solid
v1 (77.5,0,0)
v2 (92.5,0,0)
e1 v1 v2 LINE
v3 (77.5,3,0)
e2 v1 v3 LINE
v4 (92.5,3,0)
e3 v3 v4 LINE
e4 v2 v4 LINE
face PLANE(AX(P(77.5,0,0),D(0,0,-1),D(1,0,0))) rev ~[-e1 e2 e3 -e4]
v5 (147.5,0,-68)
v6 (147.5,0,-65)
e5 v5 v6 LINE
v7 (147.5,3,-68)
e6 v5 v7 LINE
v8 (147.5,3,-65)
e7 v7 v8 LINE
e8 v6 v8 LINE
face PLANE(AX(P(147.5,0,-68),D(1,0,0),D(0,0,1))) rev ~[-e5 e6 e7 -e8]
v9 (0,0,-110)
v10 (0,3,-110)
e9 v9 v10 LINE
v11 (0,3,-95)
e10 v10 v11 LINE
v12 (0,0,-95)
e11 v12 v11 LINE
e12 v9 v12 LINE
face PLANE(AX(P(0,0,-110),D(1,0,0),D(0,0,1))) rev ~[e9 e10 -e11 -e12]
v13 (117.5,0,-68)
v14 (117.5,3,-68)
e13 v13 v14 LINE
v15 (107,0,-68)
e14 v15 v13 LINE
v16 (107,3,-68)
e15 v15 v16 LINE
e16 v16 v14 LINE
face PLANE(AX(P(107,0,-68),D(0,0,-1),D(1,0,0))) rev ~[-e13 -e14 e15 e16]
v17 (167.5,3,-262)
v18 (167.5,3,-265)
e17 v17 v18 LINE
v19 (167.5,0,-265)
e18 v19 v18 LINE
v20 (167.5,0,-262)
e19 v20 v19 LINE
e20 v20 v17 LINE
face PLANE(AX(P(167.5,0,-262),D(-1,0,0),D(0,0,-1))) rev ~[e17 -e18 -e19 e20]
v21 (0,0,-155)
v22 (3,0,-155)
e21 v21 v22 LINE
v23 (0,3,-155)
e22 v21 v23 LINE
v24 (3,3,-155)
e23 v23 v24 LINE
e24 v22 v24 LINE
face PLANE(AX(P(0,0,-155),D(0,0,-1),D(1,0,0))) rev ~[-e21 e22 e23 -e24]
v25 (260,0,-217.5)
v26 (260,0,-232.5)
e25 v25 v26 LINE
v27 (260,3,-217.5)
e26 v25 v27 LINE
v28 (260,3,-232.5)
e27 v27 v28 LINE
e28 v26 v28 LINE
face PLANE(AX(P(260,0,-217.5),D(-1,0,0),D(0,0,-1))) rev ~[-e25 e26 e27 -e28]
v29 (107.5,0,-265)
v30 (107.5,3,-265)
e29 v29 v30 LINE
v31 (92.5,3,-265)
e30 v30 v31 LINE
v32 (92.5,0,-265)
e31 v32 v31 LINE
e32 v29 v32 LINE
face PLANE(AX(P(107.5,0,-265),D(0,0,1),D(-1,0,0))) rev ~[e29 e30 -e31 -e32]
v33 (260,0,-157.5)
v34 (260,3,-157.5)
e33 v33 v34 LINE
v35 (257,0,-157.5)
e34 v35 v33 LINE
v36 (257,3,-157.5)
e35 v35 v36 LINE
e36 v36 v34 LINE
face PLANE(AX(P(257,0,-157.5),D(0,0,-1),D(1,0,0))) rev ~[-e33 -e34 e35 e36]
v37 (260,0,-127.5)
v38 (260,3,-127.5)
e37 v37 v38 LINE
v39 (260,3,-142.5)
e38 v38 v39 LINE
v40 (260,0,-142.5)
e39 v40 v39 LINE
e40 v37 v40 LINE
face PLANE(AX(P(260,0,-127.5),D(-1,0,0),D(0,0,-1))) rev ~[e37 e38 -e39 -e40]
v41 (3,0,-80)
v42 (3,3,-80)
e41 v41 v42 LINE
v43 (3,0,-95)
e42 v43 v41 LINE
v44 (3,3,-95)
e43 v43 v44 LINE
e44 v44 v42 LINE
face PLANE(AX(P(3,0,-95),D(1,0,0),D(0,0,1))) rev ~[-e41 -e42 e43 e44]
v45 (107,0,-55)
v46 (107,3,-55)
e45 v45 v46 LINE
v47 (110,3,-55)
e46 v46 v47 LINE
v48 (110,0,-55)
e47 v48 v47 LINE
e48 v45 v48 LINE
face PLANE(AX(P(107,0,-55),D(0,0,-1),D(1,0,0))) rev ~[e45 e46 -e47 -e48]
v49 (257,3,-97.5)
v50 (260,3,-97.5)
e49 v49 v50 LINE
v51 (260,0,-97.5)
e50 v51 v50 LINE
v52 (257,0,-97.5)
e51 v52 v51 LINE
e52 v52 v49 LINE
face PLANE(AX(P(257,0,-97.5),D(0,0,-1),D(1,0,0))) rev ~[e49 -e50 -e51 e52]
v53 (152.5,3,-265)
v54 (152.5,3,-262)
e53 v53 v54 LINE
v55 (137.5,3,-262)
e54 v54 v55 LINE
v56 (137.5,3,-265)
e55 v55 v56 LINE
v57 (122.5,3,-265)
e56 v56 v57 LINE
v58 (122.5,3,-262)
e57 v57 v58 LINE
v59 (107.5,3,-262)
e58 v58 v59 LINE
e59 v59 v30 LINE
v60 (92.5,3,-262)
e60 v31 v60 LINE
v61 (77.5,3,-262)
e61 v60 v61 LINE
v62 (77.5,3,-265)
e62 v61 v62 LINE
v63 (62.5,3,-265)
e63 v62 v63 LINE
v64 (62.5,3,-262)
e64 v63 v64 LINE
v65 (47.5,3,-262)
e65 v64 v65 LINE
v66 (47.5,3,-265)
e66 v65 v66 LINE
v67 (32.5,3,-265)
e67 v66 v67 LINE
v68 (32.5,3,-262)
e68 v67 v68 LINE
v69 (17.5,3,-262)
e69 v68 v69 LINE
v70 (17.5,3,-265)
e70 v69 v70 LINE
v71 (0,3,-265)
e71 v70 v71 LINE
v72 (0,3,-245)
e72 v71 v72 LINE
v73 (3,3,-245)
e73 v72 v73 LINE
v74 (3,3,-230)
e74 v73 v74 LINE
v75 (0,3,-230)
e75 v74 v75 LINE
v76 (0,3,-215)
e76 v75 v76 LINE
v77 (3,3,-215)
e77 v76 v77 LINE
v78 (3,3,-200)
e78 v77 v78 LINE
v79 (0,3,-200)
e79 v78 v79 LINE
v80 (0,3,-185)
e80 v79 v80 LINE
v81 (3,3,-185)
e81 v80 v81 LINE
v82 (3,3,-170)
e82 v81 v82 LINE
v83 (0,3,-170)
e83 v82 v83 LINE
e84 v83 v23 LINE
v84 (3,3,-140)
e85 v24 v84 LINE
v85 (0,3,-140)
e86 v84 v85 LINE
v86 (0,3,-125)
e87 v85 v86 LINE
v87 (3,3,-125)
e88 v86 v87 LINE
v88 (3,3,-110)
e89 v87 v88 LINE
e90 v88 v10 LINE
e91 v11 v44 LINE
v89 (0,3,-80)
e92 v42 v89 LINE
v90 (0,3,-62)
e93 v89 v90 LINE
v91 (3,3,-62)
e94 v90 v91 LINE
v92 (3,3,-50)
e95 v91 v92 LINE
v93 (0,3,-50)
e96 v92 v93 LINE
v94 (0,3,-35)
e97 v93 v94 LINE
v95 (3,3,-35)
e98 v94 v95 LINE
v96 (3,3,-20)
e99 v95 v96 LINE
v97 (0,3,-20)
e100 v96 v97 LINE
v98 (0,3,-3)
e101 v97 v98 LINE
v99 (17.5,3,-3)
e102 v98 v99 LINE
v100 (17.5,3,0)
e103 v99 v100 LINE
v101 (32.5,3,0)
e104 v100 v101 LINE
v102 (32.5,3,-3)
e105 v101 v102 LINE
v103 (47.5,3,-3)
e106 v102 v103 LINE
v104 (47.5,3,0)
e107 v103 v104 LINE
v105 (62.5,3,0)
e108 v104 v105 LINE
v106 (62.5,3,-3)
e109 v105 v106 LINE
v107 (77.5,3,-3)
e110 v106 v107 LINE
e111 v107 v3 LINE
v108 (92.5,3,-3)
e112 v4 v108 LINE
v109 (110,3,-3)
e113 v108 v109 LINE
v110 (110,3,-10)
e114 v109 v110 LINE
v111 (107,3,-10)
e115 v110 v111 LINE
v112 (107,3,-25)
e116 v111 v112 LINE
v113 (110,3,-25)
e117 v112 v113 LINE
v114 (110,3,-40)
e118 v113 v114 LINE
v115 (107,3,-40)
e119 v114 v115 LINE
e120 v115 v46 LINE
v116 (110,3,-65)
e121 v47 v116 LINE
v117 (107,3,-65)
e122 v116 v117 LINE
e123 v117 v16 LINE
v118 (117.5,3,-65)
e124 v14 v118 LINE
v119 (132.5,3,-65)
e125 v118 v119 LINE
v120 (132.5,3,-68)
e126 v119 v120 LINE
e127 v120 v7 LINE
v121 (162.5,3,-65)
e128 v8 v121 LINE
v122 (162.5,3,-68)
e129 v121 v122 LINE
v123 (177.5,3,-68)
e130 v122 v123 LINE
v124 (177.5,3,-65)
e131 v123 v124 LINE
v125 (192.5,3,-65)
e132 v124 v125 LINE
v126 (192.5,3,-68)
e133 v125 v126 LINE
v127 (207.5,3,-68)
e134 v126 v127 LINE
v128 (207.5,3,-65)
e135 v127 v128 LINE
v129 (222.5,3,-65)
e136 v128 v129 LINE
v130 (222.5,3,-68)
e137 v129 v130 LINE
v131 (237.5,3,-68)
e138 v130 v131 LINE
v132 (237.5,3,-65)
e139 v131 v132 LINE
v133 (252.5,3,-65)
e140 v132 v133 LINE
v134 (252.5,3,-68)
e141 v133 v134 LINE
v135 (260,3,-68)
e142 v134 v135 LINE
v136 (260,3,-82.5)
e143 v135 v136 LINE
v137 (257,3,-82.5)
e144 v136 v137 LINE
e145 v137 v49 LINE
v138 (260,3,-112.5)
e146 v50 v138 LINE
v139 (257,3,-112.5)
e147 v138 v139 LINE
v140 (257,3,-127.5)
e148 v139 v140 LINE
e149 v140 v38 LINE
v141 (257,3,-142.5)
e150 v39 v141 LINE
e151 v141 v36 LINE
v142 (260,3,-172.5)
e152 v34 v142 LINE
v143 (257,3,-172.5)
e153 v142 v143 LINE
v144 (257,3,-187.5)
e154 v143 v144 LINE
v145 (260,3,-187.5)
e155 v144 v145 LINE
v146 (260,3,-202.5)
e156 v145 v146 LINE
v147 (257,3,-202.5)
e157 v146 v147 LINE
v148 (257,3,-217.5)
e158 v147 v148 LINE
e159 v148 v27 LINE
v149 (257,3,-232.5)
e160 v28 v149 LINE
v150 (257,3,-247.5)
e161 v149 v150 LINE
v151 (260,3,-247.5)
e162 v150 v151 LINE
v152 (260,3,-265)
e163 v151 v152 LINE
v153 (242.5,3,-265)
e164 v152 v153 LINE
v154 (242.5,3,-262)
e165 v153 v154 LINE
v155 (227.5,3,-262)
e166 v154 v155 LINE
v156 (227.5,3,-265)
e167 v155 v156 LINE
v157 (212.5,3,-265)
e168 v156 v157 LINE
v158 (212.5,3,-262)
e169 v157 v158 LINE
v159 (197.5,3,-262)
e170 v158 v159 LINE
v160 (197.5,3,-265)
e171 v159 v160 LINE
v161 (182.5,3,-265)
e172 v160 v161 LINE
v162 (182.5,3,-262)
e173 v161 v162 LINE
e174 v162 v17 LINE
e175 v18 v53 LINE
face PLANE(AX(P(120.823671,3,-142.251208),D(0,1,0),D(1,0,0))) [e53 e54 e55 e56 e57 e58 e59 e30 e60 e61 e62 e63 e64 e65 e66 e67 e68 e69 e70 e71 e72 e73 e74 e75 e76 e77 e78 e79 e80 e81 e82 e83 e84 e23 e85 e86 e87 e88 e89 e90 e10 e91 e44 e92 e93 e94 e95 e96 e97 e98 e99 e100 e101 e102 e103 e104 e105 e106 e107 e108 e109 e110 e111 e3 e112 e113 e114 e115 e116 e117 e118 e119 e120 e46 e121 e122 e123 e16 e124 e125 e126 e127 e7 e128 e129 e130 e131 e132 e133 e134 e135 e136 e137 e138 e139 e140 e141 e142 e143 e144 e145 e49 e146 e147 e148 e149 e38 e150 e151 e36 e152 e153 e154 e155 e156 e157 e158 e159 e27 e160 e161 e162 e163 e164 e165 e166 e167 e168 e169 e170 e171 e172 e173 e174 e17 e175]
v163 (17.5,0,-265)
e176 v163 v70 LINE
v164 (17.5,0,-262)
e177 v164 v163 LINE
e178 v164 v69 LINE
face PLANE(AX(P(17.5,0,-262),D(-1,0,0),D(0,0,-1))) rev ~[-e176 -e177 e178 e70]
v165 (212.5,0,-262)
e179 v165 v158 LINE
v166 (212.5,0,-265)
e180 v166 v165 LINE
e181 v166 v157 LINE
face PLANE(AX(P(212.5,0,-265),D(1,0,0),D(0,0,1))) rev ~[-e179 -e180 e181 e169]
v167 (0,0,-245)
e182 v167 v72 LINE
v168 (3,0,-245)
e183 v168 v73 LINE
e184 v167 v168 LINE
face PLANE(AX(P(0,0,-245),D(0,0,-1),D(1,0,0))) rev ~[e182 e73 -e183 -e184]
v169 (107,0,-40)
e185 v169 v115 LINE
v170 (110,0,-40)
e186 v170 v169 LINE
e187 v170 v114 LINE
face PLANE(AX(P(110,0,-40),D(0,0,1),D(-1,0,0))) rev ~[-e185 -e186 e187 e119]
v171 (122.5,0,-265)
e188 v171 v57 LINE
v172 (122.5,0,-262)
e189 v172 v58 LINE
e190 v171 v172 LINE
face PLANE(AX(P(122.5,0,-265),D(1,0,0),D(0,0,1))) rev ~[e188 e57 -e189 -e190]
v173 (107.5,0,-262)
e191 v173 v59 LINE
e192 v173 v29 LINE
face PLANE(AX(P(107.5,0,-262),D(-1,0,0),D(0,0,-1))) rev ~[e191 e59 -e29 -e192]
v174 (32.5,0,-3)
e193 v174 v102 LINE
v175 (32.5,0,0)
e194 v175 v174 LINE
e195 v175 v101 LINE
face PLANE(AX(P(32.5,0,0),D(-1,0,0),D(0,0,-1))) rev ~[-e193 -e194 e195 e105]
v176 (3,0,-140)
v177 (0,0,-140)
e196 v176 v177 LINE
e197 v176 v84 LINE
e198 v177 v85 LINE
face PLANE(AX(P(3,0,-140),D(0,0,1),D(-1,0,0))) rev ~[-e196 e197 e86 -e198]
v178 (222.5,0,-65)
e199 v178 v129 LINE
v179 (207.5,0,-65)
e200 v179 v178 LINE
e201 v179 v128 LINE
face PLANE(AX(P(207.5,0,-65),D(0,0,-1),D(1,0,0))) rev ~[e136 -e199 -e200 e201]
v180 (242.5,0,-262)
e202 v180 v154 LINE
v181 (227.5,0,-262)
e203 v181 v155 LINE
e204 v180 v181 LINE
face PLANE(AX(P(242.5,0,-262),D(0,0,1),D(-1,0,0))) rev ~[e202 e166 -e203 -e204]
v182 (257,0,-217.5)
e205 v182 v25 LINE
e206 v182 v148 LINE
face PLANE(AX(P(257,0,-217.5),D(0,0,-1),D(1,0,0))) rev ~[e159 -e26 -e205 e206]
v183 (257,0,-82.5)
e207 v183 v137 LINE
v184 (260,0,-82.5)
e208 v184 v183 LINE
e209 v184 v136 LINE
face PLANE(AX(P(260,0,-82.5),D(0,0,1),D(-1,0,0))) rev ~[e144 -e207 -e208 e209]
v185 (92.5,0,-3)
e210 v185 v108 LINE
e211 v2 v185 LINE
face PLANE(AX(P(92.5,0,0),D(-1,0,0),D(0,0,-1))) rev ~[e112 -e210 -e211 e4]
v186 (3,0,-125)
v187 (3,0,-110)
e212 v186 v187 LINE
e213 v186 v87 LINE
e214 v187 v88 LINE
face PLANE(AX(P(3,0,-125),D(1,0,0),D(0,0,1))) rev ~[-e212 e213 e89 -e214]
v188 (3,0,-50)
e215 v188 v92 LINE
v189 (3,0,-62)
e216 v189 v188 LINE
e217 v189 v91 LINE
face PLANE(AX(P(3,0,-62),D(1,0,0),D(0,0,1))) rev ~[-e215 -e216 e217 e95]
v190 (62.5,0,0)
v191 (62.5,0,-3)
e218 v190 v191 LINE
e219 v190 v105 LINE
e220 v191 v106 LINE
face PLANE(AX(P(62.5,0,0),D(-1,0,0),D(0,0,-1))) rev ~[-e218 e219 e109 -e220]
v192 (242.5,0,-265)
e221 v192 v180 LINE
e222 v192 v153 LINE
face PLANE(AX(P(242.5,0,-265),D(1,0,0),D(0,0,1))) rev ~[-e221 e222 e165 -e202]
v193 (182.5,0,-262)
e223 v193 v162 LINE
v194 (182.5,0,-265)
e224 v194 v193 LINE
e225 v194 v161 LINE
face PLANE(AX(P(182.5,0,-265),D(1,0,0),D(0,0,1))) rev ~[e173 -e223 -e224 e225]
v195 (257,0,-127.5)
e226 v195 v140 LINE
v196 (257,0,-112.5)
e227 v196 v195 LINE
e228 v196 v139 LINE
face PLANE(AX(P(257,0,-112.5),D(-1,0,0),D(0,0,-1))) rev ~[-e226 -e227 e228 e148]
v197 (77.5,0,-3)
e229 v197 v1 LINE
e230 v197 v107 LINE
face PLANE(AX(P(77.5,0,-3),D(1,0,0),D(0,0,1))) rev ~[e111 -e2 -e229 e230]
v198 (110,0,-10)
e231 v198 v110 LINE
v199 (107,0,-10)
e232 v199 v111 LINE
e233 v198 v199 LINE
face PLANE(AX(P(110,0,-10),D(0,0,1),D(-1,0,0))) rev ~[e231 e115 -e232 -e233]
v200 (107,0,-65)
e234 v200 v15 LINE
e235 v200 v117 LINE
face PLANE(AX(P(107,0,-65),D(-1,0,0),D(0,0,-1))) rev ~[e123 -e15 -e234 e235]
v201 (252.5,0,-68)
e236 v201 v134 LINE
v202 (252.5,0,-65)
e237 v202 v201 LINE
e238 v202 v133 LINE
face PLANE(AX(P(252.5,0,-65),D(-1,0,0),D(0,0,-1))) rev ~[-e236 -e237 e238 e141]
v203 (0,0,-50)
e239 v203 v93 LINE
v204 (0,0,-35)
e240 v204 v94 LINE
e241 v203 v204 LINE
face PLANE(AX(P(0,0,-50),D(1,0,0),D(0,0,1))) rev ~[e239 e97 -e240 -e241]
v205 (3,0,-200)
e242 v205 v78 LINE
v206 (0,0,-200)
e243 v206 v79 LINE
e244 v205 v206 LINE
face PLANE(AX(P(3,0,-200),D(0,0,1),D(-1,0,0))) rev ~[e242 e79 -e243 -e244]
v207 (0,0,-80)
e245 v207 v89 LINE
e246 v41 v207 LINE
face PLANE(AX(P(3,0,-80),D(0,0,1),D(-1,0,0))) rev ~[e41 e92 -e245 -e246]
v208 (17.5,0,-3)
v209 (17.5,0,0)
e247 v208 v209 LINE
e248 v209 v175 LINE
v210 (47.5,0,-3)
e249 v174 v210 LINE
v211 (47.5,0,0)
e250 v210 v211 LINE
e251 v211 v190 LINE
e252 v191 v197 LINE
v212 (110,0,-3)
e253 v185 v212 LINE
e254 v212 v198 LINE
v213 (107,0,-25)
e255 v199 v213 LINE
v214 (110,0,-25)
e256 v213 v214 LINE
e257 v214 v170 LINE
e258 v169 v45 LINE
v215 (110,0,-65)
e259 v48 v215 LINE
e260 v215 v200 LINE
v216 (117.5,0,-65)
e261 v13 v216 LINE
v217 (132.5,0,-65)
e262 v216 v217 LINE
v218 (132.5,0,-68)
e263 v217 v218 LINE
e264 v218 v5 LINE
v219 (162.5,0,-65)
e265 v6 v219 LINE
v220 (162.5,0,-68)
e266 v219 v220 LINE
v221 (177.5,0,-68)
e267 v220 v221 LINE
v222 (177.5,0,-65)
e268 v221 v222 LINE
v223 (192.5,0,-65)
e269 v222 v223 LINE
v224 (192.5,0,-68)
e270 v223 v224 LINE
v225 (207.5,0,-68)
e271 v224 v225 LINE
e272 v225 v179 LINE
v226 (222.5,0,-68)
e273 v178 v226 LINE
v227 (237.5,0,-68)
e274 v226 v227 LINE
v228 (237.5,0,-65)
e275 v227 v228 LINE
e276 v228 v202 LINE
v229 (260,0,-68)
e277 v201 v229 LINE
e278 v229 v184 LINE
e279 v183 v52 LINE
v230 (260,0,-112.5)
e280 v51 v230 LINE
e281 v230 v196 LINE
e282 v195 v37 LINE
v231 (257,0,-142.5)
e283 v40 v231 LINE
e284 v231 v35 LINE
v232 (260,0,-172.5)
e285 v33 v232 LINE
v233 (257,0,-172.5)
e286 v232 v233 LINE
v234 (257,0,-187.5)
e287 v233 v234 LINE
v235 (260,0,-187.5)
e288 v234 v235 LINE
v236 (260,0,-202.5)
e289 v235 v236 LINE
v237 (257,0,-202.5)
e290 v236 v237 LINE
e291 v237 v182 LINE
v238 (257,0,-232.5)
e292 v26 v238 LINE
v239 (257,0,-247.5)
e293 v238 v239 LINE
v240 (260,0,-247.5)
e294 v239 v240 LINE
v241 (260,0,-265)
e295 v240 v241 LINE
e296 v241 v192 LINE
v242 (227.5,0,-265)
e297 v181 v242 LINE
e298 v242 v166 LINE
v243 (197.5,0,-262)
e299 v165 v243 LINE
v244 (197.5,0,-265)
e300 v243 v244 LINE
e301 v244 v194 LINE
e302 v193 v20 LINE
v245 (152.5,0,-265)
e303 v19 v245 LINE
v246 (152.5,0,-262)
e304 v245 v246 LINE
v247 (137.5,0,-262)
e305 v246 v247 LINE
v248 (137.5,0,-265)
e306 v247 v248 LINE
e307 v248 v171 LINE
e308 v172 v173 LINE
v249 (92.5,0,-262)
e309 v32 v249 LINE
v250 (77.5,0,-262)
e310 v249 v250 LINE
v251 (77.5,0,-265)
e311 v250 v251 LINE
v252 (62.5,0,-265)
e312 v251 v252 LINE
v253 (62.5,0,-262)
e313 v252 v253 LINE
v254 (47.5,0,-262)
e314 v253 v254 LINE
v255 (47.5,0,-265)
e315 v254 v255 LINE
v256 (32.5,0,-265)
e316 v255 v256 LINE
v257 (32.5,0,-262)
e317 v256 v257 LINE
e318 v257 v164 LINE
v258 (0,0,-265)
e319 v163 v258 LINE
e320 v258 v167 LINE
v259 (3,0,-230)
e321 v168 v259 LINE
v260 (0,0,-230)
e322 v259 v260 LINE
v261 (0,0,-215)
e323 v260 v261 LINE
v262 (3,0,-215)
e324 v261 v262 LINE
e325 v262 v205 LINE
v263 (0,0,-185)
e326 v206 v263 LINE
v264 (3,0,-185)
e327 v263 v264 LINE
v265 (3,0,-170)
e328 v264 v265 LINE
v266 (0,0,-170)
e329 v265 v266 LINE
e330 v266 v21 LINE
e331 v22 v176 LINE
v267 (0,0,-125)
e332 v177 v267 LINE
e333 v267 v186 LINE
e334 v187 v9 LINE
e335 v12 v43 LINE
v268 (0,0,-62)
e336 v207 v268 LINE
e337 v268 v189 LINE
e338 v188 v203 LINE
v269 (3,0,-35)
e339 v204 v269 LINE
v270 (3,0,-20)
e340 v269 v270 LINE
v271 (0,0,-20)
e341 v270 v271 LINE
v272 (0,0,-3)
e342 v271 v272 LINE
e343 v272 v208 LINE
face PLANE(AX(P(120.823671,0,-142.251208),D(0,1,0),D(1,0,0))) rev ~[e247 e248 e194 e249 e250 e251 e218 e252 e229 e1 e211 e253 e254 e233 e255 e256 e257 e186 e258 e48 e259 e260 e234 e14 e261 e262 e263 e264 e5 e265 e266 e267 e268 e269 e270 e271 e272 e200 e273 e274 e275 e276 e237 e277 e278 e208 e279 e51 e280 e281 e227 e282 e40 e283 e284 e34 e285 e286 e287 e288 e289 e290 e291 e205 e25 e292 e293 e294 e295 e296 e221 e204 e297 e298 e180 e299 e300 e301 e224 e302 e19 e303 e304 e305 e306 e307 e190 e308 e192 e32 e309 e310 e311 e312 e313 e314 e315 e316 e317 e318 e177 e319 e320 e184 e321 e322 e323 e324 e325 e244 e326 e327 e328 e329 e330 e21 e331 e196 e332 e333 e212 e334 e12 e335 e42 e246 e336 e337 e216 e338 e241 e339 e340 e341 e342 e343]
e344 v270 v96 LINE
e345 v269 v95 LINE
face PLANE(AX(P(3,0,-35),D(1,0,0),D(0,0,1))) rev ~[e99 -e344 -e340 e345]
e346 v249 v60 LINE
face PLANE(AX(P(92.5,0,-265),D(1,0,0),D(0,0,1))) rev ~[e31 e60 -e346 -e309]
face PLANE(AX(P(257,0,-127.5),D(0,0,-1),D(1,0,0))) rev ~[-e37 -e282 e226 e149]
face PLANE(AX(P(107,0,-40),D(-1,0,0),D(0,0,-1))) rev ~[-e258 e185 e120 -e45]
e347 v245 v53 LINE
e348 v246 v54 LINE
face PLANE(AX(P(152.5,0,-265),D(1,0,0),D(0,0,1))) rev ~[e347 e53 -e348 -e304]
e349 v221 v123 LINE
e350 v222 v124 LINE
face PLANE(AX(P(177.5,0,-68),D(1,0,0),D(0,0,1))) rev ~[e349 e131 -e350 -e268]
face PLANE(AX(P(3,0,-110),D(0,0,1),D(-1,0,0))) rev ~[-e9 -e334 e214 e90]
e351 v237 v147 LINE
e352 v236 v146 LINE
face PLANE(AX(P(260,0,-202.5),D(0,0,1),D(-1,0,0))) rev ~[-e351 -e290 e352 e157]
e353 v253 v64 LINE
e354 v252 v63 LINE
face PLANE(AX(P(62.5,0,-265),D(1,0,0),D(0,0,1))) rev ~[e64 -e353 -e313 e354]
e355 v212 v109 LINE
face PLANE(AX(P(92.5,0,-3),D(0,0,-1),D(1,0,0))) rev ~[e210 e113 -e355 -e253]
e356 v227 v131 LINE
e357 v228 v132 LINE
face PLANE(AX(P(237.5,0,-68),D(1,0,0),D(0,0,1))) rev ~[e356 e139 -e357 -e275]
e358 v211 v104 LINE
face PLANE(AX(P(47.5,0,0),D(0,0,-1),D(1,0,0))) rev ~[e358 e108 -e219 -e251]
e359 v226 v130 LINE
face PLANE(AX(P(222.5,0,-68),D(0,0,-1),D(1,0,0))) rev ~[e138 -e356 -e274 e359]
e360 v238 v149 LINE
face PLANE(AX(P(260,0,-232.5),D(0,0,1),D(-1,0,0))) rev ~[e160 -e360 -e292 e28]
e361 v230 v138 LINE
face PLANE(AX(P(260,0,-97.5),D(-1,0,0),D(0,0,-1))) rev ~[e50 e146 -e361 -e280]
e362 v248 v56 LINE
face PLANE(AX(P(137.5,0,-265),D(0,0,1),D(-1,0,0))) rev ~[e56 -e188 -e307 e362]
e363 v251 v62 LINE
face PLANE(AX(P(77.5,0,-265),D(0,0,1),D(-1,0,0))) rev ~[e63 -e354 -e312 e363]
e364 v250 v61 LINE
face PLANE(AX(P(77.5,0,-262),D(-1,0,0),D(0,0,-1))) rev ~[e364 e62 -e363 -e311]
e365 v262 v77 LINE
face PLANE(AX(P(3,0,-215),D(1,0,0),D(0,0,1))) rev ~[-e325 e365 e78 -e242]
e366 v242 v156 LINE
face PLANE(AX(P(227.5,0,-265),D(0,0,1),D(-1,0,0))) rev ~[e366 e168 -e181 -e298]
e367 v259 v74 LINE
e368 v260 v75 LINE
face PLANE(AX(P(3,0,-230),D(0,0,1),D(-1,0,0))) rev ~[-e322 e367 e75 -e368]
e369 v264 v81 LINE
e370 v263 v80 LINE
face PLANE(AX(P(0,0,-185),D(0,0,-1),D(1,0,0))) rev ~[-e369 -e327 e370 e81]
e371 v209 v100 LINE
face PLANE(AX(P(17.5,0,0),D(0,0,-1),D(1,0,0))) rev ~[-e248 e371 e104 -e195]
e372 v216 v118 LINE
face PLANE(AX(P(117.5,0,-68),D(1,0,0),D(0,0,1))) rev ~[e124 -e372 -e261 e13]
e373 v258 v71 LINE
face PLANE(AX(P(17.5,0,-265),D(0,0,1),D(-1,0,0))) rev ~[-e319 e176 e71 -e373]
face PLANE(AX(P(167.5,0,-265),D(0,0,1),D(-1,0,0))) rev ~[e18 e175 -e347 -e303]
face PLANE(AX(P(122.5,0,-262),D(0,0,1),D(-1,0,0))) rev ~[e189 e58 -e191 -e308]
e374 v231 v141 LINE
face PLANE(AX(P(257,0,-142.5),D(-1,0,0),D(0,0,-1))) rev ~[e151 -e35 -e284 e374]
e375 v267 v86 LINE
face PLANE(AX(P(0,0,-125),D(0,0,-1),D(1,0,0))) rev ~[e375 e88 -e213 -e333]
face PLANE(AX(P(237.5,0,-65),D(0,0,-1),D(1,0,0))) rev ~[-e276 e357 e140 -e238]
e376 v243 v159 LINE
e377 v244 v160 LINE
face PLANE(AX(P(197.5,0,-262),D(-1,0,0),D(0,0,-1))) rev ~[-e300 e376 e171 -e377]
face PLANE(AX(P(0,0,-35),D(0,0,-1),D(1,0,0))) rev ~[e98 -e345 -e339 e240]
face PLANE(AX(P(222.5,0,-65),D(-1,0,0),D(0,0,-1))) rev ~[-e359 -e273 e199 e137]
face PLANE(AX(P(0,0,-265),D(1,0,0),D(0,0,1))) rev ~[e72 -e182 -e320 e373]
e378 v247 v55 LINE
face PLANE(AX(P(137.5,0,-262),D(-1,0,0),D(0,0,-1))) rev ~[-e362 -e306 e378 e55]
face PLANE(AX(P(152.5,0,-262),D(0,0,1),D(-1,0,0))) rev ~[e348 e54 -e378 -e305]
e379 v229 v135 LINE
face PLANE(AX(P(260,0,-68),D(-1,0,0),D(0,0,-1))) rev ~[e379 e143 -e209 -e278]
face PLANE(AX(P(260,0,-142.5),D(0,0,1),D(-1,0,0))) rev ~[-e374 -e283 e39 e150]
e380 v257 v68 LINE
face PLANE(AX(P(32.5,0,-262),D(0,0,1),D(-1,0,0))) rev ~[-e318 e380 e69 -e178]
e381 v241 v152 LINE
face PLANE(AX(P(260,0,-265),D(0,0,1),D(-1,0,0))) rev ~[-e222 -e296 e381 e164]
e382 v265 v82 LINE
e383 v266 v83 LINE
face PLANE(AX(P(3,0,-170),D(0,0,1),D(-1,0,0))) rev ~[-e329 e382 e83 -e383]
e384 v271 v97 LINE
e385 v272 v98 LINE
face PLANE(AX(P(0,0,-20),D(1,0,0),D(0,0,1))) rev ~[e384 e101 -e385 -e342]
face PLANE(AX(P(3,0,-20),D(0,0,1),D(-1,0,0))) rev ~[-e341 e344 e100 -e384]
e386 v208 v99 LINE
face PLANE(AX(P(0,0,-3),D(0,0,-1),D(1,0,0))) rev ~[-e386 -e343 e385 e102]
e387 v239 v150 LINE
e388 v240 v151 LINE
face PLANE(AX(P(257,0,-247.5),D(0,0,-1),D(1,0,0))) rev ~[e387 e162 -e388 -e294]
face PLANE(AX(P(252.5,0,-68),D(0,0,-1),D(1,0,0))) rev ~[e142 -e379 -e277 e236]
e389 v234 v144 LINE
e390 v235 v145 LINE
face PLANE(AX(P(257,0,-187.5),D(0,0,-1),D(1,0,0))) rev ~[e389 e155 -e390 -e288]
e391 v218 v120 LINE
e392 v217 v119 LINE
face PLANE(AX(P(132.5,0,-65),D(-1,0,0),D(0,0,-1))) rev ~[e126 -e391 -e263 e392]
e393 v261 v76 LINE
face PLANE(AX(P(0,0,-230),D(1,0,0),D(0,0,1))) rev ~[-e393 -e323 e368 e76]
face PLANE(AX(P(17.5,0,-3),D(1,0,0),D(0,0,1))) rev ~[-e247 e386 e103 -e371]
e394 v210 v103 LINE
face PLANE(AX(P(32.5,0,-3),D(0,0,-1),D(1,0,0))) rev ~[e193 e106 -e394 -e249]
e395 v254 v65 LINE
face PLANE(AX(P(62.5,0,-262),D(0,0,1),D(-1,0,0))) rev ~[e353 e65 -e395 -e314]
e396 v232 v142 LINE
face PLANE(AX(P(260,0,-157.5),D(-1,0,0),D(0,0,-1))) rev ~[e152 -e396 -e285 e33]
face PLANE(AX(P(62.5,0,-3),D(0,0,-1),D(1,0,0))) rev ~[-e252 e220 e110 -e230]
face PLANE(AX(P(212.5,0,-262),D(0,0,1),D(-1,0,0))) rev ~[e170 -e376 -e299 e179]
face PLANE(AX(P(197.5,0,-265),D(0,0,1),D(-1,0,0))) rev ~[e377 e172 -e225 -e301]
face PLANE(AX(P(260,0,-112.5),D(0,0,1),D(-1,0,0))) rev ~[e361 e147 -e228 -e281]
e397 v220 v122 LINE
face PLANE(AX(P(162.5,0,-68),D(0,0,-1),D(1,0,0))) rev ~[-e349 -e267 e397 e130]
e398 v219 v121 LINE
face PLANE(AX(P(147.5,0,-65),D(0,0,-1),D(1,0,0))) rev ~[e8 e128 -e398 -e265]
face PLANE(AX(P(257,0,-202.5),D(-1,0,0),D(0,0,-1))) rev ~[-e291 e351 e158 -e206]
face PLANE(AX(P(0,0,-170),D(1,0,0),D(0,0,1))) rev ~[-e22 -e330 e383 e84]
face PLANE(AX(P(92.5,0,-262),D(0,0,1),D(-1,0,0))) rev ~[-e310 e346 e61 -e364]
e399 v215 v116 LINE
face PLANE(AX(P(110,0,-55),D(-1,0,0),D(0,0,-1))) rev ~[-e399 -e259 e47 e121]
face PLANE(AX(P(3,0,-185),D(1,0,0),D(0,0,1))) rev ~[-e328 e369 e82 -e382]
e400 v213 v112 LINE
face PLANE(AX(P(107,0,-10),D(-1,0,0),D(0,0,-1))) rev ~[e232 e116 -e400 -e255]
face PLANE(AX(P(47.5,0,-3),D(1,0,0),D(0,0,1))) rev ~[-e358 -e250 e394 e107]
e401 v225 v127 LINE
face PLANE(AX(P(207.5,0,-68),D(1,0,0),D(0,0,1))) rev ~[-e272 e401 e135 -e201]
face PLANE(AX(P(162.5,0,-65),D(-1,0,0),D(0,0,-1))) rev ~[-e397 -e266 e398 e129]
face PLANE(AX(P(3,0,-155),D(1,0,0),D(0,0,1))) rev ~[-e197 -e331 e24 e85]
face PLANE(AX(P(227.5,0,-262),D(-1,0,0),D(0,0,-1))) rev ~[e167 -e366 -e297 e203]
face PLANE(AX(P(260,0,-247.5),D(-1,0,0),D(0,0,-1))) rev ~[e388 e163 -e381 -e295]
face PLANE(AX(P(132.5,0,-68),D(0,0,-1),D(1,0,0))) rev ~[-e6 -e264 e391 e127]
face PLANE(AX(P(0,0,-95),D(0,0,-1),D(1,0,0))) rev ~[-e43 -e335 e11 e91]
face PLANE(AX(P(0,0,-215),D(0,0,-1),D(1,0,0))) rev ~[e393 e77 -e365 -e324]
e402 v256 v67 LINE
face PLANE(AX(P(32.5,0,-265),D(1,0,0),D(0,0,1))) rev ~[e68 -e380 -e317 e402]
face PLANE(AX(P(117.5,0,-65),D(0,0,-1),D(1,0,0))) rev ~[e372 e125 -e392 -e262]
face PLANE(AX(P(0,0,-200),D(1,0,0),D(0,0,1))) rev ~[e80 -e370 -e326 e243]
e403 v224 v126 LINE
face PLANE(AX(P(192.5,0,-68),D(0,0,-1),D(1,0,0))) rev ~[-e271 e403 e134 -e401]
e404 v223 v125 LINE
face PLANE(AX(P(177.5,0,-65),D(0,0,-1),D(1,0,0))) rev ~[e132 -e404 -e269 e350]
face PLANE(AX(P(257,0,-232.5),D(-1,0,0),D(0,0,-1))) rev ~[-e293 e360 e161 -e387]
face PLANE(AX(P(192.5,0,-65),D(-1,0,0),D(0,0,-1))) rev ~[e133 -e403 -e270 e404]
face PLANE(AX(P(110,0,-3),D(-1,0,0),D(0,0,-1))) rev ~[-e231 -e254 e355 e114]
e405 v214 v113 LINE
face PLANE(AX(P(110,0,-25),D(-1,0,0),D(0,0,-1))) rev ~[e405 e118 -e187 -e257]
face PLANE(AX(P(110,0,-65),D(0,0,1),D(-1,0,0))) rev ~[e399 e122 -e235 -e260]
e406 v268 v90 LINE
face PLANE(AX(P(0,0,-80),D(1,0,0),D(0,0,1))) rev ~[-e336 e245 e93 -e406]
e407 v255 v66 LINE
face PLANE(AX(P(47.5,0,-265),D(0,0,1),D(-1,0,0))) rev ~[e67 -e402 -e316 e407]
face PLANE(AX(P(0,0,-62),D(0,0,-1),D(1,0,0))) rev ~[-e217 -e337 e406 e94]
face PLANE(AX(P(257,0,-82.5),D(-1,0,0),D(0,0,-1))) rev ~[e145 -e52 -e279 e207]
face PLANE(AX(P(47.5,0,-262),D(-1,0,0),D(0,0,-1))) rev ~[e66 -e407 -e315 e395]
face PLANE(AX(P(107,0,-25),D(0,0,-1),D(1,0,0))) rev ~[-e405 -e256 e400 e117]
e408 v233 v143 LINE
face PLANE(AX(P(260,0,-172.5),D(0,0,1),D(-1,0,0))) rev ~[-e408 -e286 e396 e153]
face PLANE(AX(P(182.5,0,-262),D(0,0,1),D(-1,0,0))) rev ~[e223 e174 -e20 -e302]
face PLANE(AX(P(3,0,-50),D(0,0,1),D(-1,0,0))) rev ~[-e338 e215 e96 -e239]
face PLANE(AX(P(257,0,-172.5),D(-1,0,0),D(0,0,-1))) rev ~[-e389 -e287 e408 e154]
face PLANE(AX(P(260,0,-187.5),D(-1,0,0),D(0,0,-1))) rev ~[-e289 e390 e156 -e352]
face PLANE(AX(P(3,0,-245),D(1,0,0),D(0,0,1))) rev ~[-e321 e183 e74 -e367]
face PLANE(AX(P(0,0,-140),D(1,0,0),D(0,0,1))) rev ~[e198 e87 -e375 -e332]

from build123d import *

# Parameters (mm, degrees)
SALIENTE_EXTRUIR1_DEPTH = 3


with BuildPart() as part:
    # Croquis1 → Saliente-Extruir1 (new body)
    with BuildSketch(Plane(origin=(0, 0, 0), x_dir=(1, 0, 0), z_dir=(0, 1, 0))):
        Polygon((17.5, 0), (32.5, 0), (32.5, 3), (47.5, 3), (47.5, 0), (62.5, 0), (62.5, 3), (77.5, 3), (77.5, 0), (92.5, 0), (92.5, 3), (110, 3), (110, 10), (107, 10), (107, 25), (110, 25), (110, 40), (107, 40), (107, 55), (110, 55), (110, 65), (107, 65), (107, 68), (117.5, 68), (117.5, 65), (132.5, 65), (132.5, 68), (147.5, 68), (147.5, 65), (162.5, 65), (162.5, 68), (177.5, 68), (177.5, 65), (192.5, 65), (192.5, 68), (207.5, 68), (207.5, 65), (222.5, 65), (222.5, 68), (237.5, 68), (237.5, 65), (252.5, 65), (252.5, 68), (260, 68), (260, 82.5), (257, 82.5), (257, 97.5), (260, 97.5), (260, 112.5), (257, 112.5), (257, 127.5), (260, 127.5), (260, 142.5), (257, 142.5), (257, 157.5), (260, 157.5), (260, 172.5), (257, 172.5), (257, 187.5), (260, 187.5), (260, 202.5), (257, 202.5), (257, 217.5), (260, 217.5), (260, 232.5), (257, 232.5), (257, 247.5), (260, 247.5), (260, 265), (242.5, 265), (242.5, 262), (227.5, 262), (227.5, 265), (212.5, 265), (212.5, 262), (197.5, 262), (197.5, 265), (182.5, 265), (182.5, 262), (167.5, 262), (167.5, 265), (152.5, 265), (152.5, 262), (137.5, 262), (137.5, 265), (122.5, 265), (122.5, 262), (107.5, 262), (107.5, 265), (92.5, 265), (92.5, 262), (77.5, 262), (77.5, 265), (62.5, 265), (62.5, 262), (47.5, 262), (47.5, 265), (32.5, 265), (32.5, 262), (17.5, 262), (17.5, 265), (0, 265), (0, 245), (3, 245), (3, 230), (0, 230), (0, 215), (3, 215), (3, 200), (0, 200), (0, 185), (3, 185), (3, 170), (0, 170), (0, 155), (3, 155), (3, 140), (0, 140), (0, 125), (3, 125), (3, 110), (0, 110), (0, 95), (3, 95), (3, 80), (0, 80), (0, 62), (3, 62), (3, 50), (0, 50), (0, 35), (3, 35), (3, 20), (0, 20), (0, 3), (17.5, 3), align=None)
    extrude(amount=SALIENTE_EXTRUIR1_DEPTH)


solid = part.part
